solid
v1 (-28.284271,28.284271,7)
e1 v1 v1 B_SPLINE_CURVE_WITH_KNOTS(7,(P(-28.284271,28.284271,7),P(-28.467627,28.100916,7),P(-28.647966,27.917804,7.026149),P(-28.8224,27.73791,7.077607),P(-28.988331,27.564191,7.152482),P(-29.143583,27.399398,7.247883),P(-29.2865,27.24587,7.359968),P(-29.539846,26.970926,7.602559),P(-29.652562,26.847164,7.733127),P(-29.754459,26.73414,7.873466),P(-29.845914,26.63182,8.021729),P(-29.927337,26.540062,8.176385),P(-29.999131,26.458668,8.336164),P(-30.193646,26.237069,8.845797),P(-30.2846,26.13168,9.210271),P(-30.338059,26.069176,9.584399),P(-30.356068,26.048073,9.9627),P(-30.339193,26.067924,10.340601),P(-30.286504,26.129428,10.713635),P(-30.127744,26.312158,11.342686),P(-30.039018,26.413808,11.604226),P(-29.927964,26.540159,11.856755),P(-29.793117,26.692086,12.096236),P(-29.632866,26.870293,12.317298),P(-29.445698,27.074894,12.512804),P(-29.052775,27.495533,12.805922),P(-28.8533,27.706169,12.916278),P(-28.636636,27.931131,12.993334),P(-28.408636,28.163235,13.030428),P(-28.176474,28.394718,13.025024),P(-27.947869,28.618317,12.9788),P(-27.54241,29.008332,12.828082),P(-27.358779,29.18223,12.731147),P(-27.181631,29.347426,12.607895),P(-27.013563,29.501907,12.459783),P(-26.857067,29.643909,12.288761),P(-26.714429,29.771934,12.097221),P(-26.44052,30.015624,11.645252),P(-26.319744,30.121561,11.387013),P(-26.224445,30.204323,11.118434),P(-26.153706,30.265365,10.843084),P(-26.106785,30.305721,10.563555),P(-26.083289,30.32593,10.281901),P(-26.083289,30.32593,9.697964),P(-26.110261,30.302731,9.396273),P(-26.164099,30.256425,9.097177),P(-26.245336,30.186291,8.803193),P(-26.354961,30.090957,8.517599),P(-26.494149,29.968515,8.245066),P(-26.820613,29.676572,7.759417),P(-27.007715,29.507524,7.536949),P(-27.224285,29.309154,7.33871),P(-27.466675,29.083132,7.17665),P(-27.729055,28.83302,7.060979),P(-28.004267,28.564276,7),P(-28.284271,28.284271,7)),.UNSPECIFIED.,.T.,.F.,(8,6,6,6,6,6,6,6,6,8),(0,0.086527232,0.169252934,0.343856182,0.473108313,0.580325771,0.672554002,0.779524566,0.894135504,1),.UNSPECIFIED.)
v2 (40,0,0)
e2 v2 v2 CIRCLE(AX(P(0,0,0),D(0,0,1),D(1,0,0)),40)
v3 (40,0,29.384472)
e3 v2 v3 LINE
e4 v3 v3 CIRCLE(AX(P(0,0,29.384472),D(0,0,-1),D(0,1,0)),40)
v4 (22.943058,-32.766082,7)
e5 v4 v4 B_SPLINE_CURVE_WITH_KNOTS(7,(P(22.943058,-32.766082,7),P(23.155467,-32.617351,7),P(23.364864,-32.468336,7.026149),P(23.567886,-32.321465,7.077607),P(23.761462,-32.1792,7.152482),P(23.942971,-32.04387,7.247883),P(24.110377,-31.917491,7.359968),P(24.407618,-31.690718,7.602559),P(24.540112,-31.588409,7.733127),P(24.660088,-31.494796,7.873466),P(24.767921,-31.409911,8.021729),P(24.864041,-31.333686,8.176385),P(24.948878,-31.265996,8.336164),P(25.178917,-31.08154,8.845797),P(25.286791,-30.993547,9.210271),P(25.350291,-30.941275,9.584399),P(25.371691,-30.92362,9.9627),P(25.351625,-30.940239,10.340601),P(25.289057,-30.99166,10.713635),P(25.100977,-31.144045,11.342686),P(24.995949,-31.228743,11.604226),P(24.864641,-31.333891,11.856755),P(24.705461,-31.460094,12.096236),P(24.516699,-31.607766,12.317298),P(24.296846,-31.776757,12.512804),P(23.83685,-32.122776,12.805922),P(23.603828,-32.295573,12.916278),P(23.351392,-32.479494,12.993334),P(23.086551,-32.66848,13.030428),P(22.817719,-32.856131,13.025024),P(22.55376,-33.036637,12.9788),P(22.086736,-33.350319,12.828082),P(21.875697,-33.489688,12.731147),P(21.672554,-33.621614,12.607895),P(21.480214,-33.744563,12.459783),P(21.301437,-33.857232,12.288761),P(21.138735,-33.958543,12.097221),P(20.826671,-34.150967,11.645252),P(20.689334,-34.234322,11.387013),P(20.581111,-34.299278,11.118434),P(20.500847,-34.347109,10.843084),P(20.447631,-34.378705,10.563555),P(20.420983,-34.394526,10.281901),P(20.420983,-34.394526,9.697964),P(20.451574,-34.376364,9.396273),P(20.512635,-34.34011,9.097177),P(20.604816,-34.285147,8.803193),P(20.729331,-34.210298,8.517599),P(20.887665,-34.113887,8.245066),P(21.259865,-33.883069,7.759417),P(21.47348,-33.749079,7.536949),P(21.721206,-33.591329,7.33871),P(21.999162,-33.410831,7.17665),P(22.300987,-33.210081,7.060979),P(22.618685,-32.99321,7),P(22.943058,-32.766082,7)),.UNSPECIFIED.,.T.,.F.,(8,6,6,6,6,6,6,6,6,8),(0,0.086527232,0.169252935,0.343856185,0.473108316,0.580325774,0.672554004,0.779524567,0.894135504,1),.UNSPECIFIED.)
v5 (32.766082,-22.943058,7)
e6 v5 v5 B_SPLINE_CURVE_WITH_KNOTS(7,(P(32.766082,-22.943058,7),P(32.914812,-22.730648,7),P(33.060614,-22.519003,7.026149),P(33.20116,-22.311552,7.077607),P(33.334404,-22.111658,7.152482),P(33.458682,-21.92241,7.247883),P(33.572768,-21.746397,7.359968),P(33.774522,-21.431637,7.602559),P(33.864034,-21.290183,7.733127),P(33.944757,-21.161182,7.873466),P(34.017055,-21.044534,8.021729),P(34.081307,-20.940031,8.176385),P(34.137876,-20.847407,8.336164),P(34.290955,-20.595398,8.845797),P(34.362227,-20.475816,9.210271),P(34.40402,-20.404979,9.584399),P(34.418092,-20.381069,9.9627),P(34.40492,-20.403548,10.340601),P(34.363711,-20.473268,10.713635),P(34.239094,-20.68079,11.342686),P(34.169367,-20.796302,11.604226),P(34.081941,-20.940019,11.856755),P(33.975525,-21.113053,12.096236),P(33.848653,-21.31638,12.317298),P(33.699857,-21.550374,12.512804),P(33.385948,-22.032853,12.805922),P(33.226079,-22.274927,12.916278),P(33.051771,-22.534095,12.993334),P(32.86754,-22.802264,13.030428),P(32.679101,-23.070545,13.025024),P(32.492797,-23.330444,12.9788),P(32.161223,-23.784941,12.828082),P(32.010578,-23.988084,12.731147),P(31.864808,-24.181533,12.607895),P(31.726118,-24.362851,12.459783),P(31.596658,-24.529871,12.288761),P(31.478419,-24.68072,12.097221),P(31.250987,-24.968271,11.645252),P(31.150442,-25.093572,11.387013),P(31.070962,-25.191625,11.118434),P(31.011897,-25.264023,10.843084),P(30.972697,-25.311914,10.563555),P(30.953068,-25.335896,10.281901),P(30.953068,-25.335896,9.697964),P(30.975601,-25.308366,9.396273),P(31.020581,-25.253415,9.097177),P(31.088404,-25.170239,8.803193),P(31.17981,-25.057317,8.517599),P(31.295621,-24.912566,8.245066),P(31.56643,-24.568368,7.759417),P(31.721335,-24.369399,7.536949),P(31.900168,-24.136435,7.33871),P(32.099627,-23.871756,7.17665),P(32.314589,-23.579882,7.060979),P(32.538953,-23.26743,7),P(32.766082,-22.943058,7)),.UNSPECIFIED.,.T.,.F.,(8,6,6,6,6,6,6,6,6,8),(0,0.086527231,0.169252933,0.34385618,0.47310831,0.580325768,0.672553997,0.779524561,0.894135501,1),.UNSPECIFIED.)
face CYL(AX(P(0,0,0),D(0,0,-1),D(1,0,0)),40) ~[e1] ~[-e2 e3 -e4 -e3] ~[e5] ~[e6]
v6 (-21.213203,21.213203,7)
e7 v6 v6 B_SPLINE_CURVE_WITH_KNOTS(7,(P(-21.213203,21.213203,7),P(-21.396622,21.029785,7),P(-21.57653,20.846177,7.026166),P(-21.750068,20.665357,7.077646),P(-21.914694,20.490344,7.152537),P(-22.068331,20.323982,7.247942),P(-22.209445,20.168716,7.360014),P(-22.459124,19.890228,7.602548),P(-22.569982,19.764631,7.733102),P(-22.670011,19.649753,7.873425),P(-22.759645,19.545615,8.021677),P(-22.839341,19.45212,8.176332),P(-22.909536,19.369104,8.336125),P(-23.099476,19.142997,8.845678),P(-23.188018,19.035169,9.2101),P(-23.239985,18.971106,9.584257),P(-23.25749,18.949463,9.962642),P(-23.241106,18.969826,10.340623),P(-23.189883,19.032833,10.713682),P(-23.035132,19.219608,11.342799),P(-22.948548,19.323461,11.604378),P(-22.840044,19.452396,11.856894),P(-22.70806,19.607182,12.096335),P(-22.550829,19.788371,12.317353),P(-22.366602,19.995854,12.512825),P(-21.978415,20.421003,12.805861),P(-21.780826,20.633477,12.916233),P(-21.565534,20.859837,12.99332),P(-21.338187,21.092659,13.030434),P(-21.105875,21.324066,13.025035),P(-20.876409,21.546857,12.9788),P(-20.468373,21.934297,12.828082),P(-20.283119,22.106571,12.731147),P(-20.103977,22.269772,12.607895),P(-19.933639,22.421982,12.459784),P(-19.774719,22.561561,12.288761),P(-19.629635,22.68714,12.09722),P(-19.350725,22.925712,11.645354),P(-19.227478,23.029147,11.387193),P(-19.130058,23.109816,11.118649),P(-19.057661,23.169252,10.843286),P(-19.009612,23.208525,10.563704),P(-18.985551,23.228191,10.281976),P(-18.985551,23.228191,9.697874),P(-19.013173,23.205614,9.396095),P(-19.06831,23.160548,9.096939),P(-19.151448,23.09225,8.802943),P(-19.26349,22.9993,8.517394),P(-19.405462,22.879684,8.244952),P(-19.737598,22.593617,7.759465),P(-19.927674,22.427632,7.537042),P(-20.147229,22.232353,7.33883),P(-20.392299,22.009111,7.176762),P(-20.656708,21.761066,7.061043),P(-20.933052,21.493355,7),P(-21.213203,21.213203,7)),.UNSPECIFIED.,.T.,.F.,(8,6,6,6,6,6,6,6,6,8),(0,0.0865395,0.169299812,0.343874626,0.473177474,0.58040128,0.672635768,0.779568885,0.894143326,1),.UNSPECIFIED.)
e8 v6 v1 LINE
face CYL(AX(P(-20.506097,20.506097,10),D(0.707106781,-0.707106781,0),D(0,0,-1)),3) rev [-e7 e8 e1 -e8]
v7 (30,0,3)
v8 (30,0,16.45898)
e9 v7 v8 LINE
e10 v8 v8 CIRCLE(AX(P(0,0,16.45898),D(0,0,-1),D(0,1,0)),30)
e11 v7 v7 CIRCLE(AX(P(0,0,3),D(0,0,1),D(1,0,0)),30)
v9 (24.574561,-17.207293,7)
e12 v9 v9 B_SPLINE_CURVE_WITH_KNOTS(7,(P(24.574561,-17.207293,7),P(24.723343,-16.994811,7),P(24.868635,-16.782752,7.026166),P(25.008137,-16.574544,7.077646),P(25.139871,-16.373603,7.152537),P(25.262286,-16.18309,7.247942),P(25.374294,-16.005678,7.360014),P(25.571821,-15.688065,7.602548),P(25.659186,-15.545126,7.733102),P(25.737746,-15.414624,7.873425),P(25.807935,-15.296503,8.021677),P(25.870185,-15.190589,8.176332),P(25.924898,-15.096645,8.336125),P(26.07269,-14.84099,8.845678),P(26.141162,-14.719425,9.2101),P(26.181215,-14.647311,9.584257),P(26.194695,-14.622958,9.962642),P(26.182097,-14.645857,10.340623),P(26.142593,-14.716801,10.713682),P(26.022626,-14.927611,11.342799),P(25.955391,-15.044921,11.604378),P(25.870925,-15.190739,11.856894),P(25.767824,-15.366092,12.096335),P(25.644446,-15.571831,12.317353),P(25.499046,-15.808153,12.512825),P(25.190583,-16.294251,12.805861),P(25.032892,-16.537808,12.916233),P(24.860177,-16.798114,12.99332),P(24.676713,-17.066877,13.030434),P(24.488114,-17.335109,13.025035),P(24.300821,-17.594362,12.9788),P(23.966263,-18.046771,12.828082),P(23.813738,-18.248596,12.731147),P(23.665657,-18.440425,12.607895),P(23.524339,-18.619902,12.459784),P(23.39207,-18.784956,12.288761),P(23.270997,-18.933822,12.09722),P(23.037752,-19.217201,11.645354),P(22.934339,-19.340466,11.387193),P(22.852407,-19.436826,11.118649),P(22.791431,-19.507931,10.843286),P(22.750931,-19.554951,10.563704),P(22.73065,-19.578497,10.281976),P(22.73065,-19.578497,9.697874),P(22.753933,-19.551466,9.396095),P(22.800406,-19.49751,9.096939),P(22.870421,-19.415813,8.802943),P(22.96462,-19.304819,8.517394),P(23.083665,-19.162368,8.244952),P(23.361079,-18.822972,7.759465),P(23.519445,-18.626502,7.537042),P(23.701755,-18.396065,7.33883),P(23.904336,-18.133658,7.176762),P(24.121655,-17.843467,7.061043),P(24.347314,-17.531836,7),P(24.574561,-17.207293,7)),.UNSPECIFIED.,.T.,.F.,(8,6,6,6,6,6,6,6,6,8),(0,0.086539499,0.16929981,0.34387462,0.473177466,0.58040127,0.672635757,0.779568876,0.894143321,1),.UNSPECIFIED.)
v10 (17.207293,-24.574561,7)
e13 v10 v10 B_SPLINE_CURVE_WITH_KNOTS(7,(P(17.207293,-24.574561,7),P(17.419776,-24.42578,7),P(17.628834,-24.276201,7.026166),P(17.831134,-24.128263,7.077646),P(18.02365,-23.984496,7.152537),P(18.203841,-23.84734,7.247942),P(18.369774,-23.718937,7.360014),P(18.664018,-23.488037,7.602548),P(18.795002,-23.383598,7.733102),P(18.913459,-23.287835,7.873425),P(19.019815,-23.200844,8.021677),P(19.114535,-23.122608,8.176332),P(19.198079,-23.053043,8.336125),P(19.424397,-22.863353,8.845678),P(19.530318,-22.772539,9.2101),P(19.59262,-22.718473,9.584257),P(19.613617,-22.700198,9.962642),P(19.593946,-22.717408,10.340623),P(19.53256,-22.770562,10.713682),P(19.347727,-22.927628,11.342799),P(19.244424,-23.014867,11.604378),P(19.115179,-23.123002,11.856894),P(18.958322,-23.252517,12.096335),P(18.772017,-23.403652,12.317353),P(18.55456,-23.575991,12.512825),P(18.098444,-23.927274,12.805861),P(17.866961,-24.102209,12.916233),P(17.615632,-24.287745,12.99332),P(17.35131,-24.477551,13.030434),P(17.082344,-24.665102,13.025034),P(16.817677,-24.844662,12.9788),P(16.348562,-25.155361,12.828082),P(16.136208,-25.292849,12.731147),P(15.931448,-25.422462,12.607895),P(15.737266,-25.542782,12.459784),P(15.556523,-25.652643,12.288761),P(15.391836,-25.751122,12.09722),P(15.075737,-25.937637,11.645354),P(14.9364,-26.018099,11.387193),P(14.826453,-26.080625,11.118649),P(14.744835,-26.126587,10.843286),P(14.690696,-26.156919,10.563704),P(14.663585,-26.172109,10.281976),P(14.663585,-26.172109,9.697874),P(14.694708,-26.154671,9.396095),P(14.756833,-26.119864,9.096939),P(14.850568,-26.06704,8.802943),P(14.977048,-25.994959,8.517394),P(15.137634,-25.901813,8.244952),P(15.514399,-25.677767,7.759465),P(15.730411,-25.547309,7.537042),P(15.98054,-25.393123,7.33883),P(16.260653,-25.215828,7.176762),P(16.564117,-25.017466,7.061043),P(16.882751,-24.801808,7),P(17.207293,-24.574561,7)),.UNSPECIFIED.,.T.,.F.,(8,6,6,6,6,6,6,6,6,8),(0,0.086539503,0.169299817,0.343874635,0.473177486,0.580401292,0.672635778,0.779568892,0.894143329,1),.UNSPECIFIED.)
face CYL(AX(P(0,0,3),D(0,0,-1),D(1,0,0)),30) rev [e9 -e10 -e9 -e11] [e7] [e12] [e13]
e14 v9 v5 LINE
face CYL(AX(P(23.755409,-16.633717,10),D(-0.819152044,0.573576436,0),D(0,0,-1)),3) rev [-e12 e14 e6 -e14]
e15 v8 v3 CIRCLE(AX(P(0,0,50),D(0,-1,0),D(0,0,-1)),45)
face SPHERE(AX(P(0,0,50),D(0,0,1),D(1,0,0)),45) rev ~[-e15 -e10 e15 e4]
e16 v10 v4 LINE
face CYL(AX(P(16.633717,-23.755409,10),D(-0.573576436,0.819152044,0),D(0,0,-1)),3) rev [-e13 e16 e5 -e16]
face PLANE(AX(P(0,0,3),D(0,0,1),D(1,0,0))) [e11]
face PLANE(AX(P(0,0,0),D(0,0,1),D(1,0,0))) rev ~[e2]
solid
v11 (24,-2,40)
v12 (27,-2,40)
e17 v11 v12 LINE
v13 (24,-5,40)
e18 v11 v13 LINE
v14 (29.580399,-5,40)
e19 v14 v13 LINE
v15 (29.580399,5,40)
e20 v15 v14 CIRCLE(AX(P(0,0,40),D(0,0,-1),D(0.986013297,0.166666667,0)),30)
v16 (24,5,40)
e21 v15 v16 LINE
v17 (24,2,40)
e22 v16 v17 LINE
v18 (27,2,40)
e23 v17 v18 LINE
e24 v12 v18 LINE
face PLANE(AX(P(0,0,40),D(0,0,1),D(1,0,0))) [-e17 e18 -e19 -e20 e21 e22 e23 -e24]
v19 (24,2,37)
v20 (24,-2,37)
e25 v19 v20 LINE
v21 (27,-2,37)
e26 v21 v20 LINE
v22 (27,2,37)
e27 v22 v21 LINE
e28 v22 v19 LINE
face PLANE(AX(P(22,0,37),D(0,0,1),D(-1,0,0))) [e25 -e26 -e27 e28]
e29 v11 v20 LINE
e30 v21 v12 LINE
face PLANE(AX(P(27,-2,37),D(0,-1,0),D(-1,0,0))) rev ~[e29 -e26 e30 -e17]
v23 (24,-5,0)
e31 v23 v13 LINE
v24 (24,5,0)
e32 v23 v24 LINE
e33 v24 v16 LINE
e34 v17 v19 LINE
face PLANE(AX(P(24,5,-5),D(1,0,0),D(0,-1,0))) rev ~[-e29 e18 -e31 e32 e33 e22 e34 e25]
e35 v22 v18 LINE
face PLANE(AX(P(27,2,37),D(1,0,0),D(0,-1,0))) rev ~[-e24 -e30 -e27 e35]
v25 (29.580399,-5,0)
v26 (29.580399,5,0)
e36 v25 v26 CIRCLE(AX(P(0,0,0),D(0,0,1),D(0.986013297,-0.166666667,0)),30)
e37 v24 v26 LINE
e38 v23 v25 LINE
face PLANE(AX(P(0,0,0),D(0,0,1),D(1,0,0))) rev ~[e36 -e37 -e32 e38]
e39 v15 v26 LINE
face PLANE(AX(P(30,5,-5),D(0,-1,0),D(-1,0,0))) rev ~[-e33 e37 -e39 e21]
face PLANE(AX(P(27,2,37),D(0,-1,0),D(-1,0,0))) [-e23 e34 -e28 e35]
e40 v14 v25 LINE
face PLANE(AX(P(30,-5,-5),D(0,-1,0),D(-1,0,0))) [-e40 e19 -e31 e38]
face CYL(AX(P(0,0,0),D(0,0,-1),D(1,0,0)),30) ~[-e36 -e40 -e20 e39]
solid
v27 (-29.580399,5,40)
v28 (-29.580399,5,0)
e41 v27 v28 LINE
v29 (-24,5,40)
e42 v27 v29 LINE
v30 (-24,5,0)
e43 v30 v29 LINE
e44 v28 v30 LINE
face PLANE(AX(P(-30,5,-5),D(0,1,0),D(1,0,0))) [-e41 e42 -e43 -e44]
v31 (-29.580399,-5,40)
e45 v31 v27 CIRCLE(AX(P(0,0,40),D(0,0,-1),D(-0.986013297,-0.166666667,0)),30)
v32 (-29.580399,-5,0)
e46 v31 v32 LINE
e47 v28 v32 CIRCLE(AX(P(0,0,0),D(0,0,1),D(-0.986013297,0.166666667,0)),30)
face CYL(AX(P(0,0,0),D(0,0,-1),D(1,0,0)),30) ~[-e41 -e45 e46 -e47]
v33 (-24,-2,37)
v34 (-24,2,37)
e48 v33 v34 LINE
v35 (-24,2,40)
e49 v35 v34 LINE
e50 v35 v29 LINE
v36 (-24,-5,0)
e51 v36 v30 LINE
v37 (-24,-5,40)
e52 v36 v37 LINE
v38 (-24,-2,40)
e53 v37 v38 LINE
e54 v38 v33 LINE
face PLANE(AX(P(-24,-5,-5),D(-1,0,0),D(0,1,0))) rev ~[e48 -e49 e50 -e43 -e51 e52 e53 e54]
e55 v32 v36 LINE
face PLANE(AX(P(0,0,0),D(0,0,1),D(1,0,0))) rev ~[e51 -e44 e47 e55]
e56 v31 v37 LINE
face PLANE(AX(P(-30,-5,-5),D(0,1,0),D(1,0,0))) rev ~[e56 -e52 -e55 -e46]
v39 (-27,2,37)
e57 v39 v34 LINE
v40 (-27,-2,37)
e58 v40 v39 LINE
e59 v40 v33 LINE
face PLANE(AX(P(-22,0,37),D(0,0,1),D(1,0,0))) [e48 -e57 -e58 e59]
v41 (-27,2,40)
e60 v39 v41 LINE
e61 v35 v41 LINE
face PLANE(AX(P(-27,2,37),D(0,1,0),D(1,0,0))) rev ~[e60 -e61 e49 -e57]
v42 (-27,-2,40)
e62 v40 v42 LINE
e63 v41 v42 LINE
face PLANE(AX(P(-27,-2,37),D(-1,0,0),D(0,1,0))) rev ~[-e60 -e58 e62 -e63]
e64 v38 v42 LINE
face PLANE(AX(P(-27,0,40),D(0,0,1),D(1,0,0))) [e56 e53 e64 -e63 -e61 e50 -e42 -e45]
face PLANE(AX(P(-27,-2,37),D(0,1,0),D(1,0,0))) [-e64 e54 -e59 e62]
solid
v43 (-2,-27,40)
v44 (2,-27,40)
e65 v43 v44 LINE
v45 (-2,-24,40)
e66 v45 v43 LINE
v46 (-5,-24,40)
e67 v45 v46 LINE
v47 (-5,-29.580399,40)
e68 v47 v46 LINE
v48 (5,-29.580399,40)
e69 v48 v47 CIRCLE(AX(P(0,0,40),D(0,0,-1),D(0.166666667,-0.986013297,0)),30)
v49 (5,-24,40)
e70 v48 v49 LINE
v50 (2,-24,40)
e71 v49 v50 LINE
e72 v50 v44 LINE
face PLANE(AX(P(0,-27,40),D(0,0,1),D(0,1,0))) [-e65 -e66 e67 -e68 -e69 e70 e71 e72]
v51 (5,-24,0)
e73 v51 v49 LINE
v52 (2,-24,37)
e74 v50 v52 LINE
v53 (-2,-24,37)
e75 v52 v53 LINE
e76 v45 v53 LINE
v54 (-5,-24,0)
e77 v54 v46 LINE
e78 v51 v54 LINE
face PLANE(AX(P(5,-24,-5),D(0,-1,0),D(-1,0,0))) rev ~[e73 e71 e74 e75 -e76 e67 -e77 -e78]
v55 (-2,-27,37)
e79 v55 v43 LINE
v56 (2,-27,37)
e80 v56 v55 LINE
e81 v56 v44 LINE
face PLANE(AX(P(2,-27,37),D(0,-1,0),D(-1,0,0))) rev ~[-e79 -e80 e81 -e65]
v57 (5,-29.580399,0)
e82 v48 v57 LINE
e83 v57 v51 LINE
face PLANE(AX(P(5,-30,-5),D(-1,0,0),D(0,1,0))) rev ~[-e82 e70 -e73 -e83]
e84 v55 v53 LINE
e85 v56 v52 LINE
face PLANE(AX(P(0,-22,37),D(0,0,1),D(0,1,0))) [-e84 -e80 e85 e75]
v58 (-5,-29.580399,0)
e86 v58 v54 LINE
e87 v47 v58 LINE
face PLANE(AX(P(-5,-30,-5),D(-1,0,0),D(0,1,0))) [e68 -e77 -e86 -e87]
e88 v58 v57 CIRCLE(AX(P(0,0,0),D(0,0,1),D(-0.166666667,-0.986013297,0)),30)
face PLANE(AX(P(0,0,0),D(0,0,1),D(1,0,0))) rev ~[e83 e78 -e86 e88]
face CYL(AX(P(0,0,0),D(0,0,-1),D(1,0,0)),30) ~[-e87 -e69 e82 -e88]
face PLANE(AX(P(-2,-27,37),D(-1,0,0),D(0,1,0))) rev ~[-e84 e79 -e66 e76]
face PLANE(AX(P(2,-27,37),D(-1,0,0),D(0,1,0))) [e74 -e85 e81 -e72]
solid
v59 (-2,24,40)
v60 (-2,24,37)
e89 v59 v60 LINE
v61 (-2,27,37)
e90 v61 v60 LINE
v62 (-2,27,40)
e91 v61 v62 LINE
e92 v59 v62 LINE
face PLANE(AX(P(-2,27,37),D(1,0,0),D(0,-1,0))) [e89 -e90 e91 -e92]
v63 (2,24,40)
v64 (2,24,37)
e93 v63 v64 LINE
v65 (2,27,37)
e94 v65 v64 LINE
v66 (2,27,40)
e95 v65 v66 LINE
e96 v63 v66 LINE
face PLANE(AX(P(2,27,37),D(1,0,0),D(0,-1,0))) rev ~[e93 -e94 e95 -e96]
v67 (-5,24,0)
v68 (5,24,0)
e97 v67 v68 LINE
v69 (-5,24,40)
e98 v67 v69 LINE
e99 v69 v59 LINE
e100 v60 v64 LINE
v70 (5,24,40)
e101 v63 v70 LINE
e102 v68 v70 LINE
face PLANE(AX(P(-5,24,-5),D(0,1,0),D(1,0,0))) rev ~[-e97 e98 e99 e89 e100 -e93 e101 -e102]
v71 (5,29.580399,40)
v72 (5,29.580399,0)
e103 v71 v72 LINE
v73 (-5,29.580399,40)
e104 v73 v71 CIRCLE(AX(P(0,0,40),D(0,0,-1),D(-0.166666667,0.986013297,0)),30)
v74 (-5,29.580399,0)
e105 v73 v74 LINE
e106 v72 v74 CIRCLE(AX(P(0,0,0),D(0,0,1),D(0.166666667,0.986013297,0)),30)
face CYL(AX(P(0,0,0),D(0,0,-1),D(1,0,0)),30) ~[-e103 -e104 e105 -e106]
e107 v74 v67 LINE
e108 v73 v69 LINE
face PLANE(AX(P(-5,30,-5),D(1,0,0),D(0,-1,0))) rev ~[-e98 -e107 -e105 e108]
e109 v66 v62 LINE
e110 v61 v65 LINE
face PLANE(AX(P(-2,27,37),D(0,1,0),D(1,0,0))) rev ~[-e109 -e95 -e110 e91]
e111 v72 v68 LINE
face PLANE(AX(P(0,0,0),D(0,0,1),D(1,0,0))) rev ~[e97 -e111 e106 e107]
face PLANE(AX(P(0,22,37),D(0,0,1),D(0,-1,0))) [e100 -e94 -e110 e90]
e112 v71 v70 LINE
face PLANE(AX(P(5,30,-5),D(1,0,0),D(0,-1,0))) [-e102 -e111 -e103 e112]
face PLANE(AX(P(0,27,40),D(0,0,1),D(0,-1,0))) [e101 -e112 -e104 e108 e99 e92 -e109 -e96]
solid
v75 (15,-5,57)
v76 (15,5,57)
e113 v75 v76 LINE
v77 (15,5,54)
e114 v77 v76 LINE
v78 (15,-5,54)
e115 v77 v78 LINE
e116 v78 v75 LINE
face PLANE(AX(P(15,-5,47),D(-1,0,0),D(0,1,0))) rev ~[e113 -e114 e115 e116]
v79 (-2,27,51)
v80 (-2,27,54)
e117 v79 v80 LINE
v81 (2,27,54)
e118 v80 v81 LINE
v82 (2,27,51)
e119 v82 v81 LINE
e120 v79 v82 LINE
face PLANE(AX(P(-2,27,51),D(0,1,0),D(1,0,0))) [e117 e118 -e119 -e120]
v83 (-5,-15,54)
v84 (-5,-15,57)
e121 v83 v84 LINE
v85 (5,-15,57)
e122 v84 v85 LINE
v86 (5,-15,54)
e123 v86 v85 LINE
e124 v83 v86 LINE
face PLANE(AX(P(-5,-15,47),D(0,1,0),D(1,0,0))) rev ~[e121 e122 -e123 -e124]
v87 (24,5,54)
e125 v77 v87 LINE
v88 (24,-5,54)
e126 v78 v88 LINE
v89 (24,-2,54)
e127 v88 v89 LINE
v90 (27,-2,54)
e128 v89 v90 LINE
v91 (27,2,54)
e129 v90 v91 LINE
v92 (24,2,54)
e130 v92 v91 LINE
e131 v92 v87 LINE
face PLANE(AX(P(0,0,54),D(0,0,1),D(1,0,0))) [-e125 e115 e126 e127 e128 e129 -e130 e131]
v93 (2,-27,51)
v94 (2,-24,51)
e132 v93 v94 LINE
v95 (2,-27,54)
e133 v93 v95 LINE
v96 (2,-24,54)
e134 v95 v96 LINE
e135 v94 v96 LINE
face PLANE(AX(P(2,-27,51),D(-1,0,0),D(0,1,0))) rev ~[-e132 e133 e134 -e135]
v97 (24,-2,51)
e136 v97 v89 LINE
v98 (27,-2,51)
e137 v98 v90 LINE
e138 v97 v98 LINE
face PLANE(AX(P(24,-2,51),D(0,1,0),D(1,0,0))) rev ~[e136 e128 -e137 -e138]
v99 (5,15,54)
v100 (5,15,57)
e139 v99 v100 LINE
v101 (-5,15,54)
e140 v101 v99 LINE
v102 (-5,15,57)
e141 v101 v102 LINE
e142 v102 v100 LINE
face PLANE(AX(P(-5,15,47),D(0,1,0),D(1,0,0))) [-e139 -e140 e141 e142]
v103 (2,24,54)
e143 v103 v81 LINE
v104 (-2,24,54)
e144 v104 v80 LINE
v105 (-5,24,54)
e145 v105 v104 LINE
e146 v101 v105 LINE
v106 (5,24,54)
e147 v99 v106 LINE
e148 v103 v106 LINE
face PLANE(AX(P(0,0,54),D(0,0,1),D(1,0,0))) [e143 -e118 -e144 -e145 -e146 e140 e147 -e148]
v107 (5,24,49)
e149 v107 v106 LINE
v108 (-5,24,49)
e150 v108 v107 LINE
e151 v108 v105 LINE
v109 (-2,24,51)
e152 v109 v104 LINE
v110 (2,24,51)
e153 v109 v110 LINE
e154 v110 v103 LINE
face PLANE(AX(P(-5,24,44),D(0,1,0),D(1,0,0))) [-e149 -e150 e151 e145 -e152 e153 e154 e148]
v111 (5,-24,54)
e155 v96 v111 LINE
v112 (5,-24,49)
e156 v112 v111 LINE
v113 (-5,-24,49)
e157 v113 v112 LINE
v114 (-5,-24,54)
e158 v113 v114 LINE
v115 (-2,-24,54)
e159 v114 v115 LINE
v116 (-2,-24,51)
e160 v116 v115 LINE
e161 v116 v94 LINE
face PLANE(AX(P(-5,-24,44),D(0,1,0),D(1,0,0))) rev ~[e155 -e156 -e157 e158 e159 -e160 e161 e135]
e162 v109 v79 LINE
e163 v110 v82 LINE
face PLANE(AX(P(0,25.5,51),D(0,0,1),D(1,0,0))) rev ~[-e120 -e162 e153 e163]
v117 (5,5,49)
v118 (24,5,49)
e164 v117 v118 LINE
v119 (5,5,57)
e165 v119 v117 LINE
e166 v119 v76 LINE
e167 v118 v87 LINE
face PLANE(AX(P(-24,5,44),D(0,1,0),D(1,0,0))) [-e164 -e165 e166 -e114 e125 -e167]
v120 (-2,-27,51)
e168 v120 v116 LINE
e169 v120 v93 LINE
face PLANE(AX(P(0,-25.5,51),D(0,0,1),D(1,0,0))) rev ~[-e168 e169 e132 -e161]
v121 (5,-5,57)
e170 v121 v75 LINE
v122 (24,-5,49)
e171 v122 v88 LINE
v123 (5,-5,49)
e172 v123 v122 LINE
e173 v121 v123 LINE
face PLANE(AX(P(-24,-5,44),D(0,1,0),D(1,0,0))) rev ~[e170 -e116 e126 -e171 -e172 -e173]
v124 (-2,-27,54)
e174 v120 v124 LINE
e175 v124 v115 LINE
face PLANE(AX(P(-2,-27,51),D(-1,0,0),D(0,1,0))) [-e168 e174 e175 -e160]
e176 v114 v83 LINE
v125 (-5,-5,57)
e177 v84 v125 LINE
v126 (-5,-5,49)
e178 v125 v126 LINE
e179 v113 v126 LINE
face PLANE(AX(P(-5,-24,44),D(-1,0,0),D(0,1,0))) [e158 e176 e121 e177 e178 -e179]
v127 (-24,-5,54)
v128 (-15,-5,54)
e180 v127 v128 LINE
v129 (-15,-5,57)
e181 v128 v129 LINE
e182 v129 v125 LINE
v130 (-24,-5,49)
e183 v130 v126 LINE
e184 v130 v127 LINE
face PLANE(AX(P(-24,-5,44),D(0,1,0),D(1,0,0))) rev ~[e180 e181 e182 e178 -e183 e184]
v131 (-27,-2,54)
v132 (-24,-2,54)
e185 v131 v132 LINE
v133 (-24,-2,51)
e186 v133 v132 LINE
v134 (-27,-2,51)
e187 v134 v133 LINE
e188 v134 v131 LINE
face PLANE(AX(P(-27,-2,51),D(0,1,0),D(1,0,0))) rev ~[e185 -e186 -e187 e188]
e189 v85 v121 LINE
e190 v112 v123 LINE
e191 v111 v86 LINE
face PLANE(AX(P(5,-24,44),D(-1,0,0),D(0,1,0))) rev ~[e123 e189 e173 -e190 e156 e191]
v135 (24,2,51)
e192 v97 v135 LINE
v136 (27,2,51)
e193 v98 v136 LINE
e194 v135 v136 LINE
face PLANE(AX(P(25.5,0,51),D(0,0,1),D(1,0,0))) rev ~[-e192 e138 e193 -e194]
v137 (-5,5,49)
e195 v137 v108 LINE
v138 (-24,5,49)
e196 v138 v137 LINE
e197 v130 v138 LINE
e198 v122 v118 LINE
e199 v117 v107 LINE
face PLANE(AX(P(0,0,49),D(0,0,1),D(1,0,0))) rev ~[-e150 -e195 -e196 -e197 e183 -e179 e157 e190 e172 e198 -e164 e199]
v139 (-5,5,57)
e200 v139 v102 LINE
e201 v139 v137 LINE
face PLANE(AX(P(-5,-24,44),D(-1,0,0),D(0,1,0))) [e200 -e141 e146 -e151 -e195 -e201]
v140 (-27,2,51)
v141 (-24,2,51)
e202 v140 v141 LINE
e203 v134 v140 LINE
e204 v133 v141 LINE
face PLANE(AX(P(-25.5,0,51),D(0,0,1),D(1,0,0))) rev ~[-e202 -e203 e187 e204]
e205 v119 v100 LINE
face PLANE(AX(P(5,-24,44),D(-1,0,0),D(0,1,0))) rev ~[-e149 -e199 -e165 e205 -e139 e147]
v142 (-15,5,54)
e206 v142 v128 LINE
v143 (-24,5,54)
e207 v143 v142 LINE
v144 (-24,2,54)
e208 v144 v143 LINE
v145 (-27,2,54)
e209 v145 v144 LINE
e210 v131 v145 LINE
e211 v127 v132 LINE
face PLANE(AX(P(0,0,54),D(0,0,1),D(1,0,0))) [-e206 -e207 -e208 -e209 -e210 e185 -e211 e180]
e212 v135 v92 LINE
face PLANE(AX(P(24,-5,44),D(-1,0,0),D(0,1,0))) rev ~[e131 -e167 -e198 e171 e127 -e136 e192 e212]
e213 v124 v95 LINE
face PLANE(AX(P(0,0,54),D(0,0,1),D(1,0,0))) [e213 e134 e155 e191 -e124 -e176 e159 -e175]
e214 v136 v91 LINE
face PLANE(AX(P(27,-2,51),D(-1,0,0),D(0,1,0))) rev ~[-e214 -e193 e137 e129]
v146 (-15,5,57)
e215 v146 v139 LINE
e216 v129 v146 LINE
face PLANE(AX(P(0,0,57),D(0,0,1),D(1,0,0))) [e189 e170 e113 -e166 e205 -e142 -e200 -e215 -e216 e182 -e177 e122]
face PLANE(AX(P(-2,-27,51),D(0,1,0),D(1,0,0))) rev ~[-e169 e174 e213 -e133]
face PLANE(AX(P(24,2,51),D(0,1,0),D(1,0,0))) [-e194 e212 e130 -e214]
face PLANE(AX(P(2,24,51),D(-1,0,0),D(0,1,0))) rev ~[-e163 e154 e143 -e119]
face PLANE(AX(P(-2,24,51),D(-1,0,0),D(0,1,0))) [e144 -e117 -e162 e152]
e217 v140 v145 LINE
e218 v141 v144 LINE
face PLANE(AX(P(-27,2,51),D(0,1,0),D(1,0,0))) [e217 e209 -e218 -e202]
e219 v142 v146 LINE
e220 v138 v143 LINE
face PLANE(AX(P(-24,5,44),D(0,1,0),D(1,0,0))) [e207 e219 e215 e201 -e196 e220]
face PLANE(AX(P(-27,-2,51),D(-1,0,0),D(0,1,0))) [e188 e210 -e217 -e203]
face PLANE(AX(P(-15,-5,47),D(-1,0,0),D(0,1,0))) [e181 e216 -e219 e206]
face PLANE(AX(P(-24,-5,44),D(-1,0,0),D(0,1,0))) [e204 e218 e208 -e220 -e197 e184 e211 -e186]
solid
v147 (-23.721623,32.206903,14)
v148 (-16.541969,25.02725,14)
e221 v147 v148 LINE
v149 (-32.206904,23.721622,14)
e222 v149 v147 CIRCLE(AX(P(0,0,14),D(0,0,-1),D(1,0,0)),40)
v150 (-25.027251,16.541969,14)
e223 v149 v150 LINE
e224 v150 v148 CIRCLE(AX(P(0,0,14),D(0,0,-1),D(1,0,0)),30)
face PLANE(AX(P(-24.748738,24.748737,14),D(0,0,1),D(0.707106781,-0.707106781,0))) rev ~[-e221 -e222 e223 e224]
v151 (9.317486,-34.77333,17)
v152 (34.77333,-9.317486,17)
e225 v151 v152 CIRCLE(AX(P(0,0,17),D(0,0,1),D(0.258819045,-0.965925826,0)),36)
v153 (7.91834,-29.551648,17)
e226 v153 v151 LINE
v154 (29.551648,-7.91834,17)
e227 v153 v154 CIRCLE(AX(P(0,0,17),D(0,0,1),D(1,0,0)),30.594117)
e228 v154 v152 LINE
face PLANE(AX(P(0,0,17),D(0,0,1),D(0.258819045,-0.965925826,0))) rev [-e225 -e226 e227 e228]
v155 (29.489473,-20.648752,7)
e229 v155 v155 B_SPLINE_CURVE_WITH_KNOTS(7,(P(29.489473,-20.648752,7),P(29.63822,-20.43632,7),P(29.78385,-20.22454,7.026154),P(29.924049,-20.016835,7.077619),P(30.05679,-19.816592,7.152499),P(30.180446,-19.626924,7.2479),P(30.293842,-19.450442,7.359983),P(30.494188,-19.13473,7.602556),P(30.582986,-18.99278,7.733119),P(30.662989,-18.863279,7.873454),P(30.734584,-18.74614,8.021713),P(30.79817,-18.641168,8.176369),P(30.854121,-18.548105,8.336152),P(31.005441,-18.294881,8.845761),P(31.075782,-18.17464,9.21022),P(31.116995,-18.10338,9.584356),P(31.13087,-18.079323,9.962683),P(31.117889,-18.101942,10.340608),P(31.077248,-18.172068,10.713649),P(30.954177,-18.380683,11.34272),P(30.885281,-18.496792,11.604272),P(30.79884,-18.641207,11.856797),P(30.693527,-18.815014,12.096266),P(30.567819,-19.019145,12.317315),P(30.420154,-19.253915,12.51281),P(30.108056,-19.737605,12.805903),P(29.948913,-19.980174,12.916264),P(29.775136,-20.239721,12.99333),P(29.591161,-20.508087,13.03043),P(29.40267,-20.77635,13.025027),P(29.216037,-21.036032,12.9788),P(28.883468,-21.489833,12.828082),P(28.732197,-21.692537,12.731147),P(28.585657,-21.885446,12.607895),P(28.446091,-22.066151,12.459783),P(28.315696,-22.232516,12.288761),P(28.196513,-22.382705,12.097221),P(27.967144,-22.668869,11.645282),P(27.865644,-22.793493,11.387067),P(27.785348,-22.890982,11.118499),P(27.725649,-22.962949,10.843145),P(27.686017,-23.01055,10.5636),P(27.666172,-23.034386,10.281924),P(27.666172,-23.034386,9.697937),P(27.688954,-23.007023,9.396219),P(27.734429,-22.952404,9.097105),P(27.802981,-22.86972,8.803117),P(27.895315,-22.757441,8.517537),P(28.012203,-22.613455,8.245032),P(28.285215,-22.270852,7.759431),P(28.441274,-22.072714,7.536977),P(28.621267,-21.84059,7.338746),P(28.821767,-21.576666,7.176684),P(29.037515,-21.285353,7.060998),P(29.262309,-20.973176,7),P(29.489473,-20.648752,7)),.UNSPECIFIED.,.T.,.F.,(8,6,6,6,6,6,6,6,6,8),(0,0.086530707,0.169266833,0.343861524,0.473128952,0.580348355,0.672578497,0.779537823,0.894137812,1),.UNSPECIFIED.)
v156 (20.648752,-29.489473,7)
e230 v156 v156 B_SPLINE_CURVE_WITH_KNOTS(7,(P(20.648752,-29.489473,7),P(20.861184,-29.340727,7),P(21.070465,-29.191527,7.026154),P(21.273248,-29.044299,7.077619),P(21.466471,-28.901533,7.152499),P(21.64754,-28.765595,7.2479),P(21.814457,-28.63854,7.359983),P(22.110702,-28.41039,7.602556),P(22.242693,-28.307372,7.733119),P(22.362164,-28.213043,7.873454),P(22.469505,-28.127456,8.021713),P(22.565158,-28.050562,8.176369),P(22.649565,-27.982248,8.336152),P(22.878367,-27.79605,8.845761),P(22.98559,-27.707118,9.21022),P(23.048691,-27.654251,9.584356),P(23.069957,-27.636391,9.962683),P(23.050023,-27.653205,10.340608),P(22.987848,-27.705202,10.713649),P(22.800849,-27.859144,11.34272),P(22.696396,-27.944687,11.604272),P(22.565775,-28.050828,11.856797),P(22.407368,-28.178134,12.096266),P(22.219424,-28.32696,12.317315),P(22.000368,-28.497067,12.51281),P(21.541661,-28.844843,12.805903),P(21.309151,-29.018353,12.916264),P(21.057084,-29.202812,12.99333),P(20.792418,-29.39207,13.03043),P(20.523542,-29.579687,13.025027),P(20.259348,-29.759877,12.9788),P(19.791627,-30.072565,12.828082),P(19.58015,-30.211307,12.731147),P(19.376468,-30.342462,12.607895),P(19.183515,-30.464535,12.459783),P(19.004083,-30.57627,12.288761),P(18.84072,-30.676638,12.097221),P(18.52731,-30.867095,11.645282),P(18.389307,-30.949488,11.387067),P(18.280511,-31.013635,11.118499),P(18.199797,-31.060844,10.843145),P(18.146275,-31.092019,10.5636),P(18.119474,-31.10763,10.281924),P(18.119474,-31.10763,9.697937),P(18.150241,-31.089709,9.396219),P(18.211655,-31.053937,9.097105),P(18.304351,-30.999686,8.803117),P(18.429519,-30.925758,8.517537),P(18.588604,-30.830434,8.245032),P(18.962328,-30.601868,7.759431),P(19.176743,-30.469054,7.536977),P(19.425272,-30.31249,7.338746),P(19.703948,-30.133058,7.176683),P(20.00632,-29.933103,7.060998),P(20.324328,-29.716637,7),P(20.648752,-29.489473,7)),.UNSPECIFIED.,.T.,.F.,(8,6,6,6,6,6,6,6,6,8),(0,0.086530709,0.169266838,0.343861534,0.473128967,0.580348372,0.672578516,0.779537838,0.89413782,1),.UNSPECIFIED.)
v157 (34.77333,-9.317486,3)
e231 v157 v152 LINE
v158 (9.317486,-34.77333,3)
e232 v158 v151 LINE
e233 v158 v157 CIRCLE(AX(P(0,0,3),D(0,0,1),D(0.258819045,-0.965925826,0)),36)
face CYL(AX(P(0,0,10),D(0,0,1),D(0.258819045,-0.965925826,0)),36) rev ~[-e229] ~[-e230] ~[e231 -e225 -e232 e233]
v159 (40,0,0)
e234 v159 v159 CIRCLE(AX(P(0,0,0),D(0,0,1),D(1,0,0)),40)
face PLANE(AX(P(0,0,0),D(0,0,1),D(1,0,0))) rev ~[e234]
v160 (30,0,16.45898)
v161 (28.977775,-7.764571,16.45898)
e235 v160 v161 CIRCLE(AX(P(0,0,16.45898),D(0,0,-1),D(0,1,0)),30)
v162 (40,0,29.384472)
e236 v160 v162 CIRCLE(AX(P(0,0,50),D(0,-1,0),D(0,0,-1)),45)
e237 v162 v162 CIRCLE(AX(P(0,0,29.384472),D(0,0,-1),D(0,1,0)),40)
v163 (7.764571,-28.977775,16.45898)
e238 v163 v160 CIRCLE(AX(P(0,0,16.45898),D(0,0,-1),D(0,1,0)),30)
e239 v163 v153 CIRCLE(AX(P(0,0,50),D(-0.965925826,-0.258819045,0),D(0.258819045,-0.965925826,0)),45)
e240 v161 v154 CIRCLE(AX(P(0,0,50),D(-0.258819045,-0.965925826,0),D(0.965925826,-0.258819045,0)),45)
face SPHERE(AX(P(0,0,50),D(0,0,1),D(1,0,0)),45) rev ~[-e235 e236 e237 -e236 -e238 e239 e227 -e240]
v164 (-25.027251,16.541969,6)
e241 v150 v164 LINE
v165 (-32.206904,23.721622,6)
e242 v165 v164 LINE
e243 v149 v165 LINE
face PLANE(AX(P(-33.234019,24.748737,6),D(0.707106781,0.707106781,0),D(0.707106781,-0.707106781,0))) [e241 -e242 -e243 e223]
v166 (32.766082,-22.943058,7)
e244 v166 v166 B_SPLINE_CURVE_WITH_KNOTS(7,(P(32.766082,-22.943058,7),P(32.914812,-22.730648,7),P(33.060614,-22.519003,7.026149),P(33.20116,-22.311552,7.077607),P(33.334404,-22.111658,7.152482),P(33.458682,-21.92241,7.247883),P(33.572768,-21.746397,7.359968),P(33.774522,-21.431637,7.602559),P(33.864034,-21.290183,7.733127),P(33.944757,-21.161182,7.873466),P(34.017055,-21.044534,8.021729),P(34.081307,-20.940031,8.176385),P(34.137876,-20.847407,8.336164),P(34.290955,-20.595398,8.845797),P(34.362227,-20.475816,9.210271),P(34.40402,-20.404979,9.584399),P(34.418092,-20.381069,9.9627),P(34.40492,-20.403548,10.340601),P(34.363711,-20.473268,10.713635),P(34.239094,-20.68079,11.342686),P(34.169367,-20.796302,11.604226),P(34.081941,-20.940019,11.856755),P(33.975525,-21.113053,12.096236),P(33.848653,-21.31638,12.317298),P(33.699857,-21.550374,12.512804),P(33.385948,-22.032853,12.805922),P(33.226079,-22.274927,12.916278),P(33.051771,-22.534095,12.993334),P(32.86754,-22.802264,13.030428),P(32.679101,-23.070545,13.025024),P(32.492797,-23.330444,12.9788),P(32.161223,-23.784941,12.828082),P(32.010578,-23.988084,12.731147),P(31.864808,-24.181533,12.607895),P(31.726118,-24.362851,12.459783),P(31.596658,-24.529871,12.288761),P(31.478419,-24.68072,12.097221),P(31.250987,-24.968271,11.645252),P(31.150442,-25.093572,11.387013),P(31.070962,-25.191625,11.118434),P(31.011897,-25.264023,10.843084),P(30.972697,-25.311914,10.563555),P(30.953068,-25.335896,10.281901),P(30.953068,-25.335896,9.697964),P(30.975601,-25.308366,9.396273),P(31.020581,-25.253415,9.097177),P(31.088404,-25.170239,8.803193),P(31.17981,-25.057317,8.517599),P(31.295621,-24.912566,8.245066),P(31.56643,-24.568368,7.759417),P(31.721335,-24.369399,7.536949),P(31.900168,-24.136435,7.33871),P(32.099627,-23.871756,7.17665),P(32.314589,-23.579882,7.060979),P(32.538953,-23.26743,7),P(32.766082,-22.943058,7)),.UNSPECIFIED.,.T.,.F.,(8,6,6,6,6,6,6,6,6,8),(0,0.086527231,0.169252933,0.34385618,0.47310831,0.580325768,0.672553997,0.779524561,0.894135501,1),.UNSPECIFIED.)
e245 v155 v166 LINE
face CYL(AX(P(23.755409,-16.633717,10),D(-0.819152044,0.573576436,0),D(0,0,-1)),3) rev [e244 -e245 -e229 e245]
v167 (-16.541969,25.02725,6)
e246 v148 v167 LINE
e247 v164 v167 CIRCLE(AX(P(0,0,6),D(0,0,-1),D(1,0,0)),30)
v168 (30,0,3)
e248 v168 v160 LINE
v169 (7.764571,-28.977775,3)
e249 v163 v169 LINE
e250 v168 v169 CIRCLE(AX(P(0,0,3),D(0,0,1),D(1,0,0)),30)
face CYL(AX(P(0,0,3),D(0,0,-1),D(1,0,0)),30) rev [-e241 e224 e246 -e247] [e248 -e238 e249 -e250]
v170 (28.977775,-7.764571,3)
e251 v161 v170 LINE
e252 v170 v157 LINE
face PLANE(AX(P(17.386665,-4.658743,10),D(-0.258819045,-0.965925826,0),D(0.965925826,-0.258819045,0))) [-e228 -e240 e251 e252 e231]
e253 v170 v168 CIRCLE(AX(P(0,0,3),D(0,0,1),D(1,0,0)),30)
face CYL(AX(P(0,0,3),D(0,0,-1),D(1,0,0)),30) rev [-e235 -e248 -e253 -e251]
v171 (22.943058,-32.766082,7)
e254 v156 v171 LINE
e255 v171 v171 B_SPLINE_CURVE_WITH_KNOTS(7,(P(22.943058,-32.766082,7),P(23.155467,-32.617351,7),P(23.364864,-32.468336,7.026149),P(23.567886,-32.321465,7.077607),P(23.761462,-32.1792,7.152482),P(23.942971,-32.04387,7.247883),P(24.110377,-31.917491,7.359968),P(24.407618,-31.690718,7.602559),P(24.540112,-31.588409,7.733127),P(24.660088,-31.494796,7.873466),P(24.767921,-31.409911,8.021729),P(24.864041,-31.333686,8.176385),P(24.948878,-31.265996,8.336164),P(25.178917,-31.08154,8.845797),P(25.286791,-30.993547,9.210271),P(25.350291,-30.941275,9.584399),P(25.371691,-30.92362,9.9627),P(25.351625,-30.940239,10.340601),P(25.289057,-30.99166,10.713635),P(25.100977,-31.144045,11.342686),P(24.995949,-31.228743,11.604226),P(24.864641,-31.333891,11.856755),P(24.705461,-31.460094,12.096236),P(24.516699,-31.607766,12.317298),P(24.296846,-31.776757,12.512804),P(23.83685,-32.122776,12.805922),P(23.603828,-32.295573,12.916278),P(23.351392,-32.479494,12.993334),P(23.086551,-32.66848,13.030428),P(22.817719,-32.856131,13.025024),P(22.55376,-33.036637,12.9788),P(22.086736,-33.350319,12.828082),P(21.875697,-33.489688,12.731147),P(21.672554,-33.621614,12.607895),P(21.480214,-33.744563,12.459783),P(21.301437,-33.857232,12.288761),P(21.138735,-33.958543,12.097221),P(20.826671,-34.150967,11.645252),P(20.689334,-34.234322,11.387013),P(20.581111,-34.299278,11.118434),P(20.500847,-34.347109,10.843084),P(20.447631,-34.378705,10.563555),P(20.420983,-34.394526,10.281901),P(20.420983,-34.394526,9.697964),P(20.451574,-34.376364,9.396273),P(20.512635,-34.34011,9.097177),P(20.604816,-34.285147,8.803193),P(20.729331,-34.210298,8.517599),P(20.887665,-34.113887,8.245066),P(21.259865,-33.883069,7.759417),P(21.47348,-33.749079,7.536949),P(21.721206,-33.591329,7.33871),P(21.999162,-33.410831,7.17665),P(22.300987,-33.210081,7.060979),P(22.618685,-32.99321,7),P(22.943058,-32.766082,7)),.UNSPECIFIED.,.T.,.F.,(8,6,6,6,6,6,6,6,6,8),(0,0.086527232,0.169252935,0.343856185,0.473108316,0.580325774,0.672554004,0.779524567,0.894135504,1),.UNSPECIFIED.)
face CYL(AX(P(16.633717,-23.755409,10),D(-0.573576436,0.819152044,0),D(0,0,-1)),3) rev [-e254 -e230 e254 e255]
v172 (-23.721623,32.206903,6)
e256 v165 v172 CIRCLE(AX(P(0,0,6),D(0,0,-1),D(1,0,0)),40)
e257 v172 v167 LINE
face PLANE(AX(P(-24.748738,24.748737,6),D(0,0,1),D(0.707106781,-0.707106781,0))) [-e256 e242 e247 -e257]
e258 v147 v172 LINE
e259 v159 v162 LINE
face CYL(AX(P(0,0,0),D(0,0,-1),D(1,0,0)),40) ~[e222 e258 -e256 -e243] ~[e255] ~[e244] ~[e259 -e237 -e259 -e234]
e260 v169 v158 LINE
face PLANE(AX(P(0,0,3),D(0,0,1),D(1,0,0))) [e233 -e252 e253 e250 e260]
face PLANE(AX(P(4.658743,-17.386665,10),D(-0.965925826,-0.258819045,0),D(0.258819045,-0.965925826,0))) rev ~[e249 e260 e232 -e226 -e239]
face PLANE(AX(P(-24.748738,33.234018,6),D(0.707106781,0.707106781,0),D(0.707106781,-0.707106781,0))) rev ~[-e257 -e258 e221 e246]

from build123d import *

# Parameters (mm, degrees)
CYLINDER003_R               = 3
CYLINDER003_DEPTH           = 12
CYLINDER003_PITCH_ANGLE     = 90
CYLINDER003_PLACEMENT_ANGLE = -35
CYLINDER002_R               = 3
CYLINDER002_DEPTH           = 12
CYLINDER002_PITCH_ANGLE     = 90
CYLINDER002_PLACEMENT_ANGLE = -55
CYLINDER004_R               = 3
CYLINDER004_DEPTH           = 12
CYLINDER004_PITCH_ANGLE     = 90
CYLINDER004_PLACEMENT_ANGLE = 135
CYLINDER001_R               = 30
CYLINDER001_DEPTH           = 30
CYLINDER_R                  = 40
CYLINDER_DEPTH              = 30
BOX007_W                    = 10
BOX007_H                    = 4
BOX007_DEPTH                = 10
BOX006_W                    = 6
BOX006_H                    = 10
BOX006_DEPTH                = 45
CUT008_PLACEMENT_ANGLE      = 180
CYLINDER005_R               = 30
CYLINDER005_DEPTH           = 40
BOX003_W                    = 10
BOX003_H                    = 4
BOX003_DEPTH                = 10
BOX002_W                    = 6
BOX002_H                    = 10
BOX002_DEPTH                = 45
CUT006_PLACEMENT_ANGLE      = 90
BOX001_W                    = 10
BOX001_H                    = 4
BOX001_DEPTH                = 10
BOX_W                       = 6
BOX_H                       = 10
BOX_DEPTH                   = 45
BOX005_W                    = 10
BOX005_H                    = 4
BOX005_DEPTH                = 10
BOX004_W                    = 6
BOX004_H                    = 10
BOX004_DEPTH                = 45
CUT007_PLACEMENT_ANGLE      = -90
CYLINDER006_R               = 40
CYLINDER006_DEPTH           = 20
BOX010_W                    = 3
BOX010_H                    = 4
BOX010_DEPTH                = 3
BOX011_W                    = 3
BOX011_H                    = 4
BOX011_DEPTH                = 3
BOX015_W                    = 30
BOX015_H                    = 10
BOX015_DEPTH                = 10
BOX009_W                    = 48
BOX009_H                    = 10
BOX009_DEPTH                = 10
BOX013_W                    = 4
BOX013_H                    = 3
BOX013_DEPTH                = 3
BOX012_W                    = 10
BOX012_H                    = 48
BOX012_DEPTH                = 10
BOX014_W                    = 4
BOX014_H                    = 3
BOX014_DEPTH                = 3
BOX016_W                    = 10
BOX016_H                    = 30
BOX016_DEPTH                = 10
CYLINDER007_W               = 36
CYLINDER007_H               = 14
CYLINDER007_ANGLE           = 60
CYLINDER007_PLACEMENT_ANGLE = 75
BOX008_W                    = 12
BOX008_H                    = 12
BOX008_DEPTH                = 8
BOX008_PLACEMENT_ANGLE      = -45


with BuildPart() as switch2:
    # Cylinder003 → Cylinder003 (new body)
    with BuildSketch(Plane.XY):
        Circle(CYLINDER003_R)
    extrude(amount=CYLINDER003_DEPTH)


with BuildPart() as switch2_1:
    # Cylinder003 pitch: moved
    add(switch2.part.rotate(Axis((0, 0, 0), (0, 1, 0)), CYLINDER003_PITCH_ANGLE))


with BuildPart() as switch2_2:
    # Cylinder003 placement: moved
    add(switch2_1.part.moved(Location((23.755409, -16.633717, 10))).rotate(Axis((23.755409, -16.633717, 10), (0, 0, 1)), CYLINDER003_PLACEMENT_ANGLE))


with BuildPart() as switch1:
    # Cylinder002 → Cylinder002 (new body)
    with BuildSketch(Plane.XY):
        Circle(CYLINDER002_R)
    extrude(amount=CYLINDER002_DEPTH)


with BuildPart() as switch1_1:
    # Cylinder002 pitch: moved
    add(switch1.part.rotate(Axis((0, 0, 0), (0, 1, 0)), CYLINDER002_PITCH_ANGLE))


with BuildPart() as switch1_2:
    # Cylinder002 placement: moved
    add(switch1_1.part.moved(Location((16.633717, -23.755409, 10))).rotate(Axis((16.633717, -23.755409, 10), (0, 0, 1)), CYLINDER002_PLACEMENT_ANGLE))


with BuildPart() as plug:
    # Cylinder004 → Cylinder004 (new body)
    with BuildSketch(Plane.XY):
        Circle(CYLINDER004_R)
    extrude(amount=CYLINDER004_DEPTH)


with BuildPart() as plug_1:
    # Cylinder004 pitch: moved
    add(plug.part.rotate(Axis((0, 0, 0), (0, 1, 0)), CYLINDER004_PITCH_ANGLE))


with BuildPart() as plug_2:
    # Cylinder004 placement: moved
    add(plug_1.part.moved(Location((-20.506097, 20.506097, 10))).rotate(Axis((-20.506097, 20.506097, 10), (0, 0, 1)), CYLINDER004_PLACEMENT_ANGLE))


with BuildPart() as sphere:
    # Sphere → Sphere (revolve)
    with BuildSketch(Plane(origin=(0, 0, 50), x_dir=(1, 0, 0), z_dir=(0, -1, 0))):
        with BuildLine():
            ThreePointArc((0, -45), (45, 0), (0, 45))
            Line((0, 45), (0, -45))
        make_face()
    revolve(axis=Axis((0, 0, 50), (0, 0, 1)))


with BuildPart() as cylinder001:
    # Cylinder001 → Cylinder001 (new body)
    with BuildSketch(Plane.XY.offset(3)):
        Circle(CYLINDER001_R)
    extrude(amount=CYLINDER001_DEPTH)


with BuildPart() as cut001:
    # Cylinder → Cylinder (new body)
    with BuildSketch(Plane.XY):
        Circle(CYLINDER_R)
    extrude(amount=CYLINDER_DEPTH)

    # Cut: cut Cylinder001
    add(cylinder001.part, mode=Mode.SUBTRACT)

    # Cut001: cut Sphere
    add(sphere.part, mode=Mode.SUBTRACT)


with BuildPart() as base_round:
    # Cut002 base: copy of Cut001
    add(cut001.part)

    # Cut002: cut plug
    add(plug_2.part, mode=Mode.SUBTRACT)

    # Cut003: cut switch1
    add(switch1_2.part, mode=Mode.SUBTRACT)

    # Cut004: cut switch2
    add(switch2_2.part, mode=Mode.SUBTRACT)


with BuildPart() as cube007:
    # Box007 → Box007 (new body)
    with BuildSketch(Plane(origin=(3, 3, 42), x_dir=(1, 0, 0), z_dir=(0, 0, 1))):
        with Locations((5, 2)):
            Rectangle(BOX007_W, BOX007_H)
    extrude(amount=BOX007_DEPTH)


with BuildPart() as cut008:
    # Box006 → Box006 (new body)
    with BuildSketch(Plane.XY):
        with Locations((3, 5)):
            Rectangle(BOX006_W, BOX006_H)
    extrude(amount=BOX006_DEPTH)

    # Cut008: cut Cube007
    add(cube007.part, mode=Mode.SUBTRACT)


with BuildPart() as cut008_1:
    # Cut008 placement: moved
    add(cut008.part.moved(Location((30, 5, -5))).rotate(Axis((30, 5, -5), (0, 0, 1)), CUT008_PLACEMENT_ANGLE))


with BuildPart() as cylinder002:
    # Cylinder005 → Cylinder005 (new body)
    with BuildSketch(Plane.XY):
        Circle(CYLINDER005_R)
    extrude(amount=CYLINDER005_DEPTH)


with BuildPart() as snap1:
    # Common base: copy of Cylinder002
    add(cylinder002.part)

    # Common: intersect Cut008
    add(cut008_1.part, mode=Mode.INTERSECT)


with BuildPart() as cube003:
    # Box003 → Box003 (new body)
    with BuildSketch(Plane(origin=(3, 3, 42), x_dir=(1, 0, 0), z_dir=(0, 0, 1))):
        with Locations((5, 2)):
            Rectangle(BOX003_W, BOX003_H)
    extrude(amount=BOX003_DEPTH)


with BuildPart() as snap2:
    # Box002 → Box002 (new body)
    with BuildSketch(Plane.XY):
        with Locations((3, 5)):
            Rectangle(BOX002_W, BOX002_H)
    extrude(amount=BOX002_DEPTH)

    # Cut006: cut Cube003
    add(cube003.part, mode=Mode.SUBTRACT)


with BuildPart() as snap2_1:
    # Cut006 placement: moved
    add(snap2.part.moved(Location((5, -30, -5))).rotate(Axis((5, -30, -5), (0, 0, 1)), CUT006_PLACEMENT_ANGLE))

    # Common001: intersect Cylinder002
    add(cylinder002.part, mode=Mode.INTERSECT)


with BuildPart() as cube001:
    # Box001 → Box001 (new body)
    with BuildSketch(Plane(origin=(3, 3, 42), x_dir=(1, 0, 0), z_dir=(0, 0, 1))):
        with Locations((5, 2)):
            Rectangle(BOX001_W, BOX001_H)
    extrude(amount=BOX001_DEPTH)


with BuildPart() as snap3:
    # Box → Box (new body)
    with BuildSketch(Plane.XY):
        with Locations((3, 5)):
            Rectangle(BOX_W, BOX_H)
    extrude(amount=BOX_DEPTH)

    # Cut005: cut Cube001
    add(cube001.part, mode=Mode.SUBTRACT)


with BuildPart() as snap3_1:
    # Cut005 placement: moved
    add(snap3.part.moved(Location((-30, -5, -5))))

    # Common002: intersect Cylinder002
    add(cylinder002.part, mode=Mode.INTERSECT)


with BuildPart() as cube005:
    # Box005 → Box005 (new body)
    with BuildSketch(Plane(origin=(3, 3, 42), x_dir=(1, 0, 0), z_dir=(0, 0, 1))):
        with Locations((5, 2)):
            Rectangle(BOX005_W, BOX005_H)
    extrude(amount=BOX005_DEPTH)


with BuildPart() as snap4:
    # Box004 → Box004 (new body)
    with BuildSketch(Plane.XY):
        with Locations((3, 5)):
            Rectangle(BOX004_W, BOX004_H)
    extrude(amount=BOX004_DEPTH)

    # Cut007: cut Cube005
    add(cube005.part, mode=Mode.SUBTRACT)


with BuildPart() as snap4_1:
    # Cut007 placement: moved
    add(snap4.part.moved(Location((-5, 30, -5))).rotate(Axis((-5, 30, -5), (0, 0, 1)), CUT007_PLACEMENT_ANGLE))

    # Common003: intersect Cylinder002
    add(cylinder002.part, mode=Mode.INTERSECT)


with BuildPart() as cylinder003:
    # Cylinder006 → Cylinder006 (new body)
    with BuildSketch(Plane.XY.offset(29)):
        Circle(CYLINDER006_R)
    extrude(amount=CYLINDER006_DEPTH)


with BuildPart() as cube010:
    # Box010 → Box010 (new body)
    with BuildSketch(Plane(origin=(-27, -2, 37), x_dir=(1, 0, 0), z_dir=(0, 0, 1))):
        with Locations((1.5, 2)):
            Rectangle(BOX010_W, BOX010_H)
    extrude(amount=BOX010_DEPTH)


with BuildPart() as cube011:
    # Box011 → Box011 (new body)
    with BuildSketch(Plane(origin=(24, -2, 37), x_dir=(1, 0, 0), z_dir=(0, 0, 1))):
        with Locations((1.5, 2)):
            Rectangle(BOX011_W, BOX011_H)
    extrude(amount=BOX011_DEPTH)


with BuildPart() as cube015:
    # Box015 → Box015 (new body)
    with BuildSketch(Plane(origin=(-15, -5, 33), x_dir=(1, 0, 0), z_dir=(0, 0, 1))):
        with Locations((15, 5)):
            Rectangle(BOX015_W, BOX015_H)
    extrude(amount=BOX015_DEPTH)


with BuildPart() as fusion:
    # Box009 → Box009 (new body)
    with BuildSketch(Plane(origin=(-24, -5, 30), x_dir=(1, 0, 0), z_dir=(0, 0, 1))):
        with Locations((24, 5)):
            Rectangle(BOX009_W, BOX009_H)
    extrude(amount=BOX009_DEPTH)

    # Fusion: union Cube010, Cube011, Cube015
    add(cube010.part)
    add(cube011.part)
    add(cube015.part)


with BuildPart() as cube013:
    # Box013 → Box013 (new body)
    with BuildSketch(Plane(origin=(-2, 24, 37), x_dir=(1, 0, 0), z_dir=(0, 0, 1))):
        with Locations((2, 1.5)):
            Rectangle(BOX013_W, BOX013_H)
    extrude(amount=BOX013_DEPTH)


with BuildPart() as cube012:
    # Box012 → Box012 (new body)
    with BuildSketch(Plane(origin=(-5, -24, 30), x_dir=(1, 0, 0), z_dir=(0, 0, 1))):
        with Locations((5, 24)):
            Rectangle(BOX012_W, BOX012_H)
    extrude(amount=BOX012_DEPTH)


with BuildPart() as cube014:
    # Box014 → Box014 (new body)
    with BuildSketch(Plane(origin=(-2, -27, 37), x_dir=(1, 0, 0), z_dir=(0, 0, 1))):
        with Locations((2, 1.5)):
            Rectangle(BOX014_W, BOX014_H)
    extrude(amount=BOX014_DEPTH)


with BuildPart() as led:
    # Box016 → Box016 (new body)
    with BuildSketch(Plane(origin=(-5, -15, 33), x_dir=(1, 0, 0), z_dir=(0, 0, 1))):
        with Locations((5, 15)):
            Rectangle(BOX016_W, BOX016_H)
    extrude(amount=BOX016_DEPTH)

    # Fusion001: union Cube013, Cube012, Cube014
    add(cube013.part)
    add(cube012.part)
    add(cube014.part)

    # Fusion002: union Fusion
    add(fusion.part)


with BuildPart() as led_1:
    # Fusion002 placement: moved
    add(led.part.moved(Location((0, 0, 14))))

    # Cut012: cut Cylinder003
    add(cylinder003.part, mode=Mode.SUBTRACT)


with BuildPart() as cylinder004:
    # Cylinder007 → Cylinder007 (revolve)
    with BuildSketch(Plane.XZ):
        with Locations((18, 7)):
            Rectangle(CYLINDER007_W, CYLINDER007_H)
    revolve(axis=Axis((0, 0, 0), (0, 0, 1)), revolution_arc=CYLINDER007_ANGLE)


with BuildPart() as cylinder004_1:
    # Cylinder007 placement: moved
    add(cylinder004.part.moved(Location((0, 0, 3))).rotate(Axis((0, 0, 3), (0, 0, -1)), CYLINDER007_PLACEMENT_ANGLE))


with BuildPart() as cube008:
    # Box008 → Box008 (new body)
    with BuildSketch(Plane.XY):
        with Locations((6, 6)):
            Rectangle(BOX008_W, BOX008_H)
    extrude(amount=BOX008_DEPTH)


with BuildPart() as cube008_1:
    # Box008 placement: moved
    add(cube008.part.moved(Location((-33.234019, 24.748737, 6))).rotate(Axis((-33.234019, 24.748737, 6), (0, 0, 1)), BOX008_PLACEMENT_ANGLE))


with BuildPart() as cut013:
    # Cut009 base: copy of Cut001
    add(cut001.part)

    # Cut009: cut switch1
    add(switch1_2.part, mode=Mode.SUBTRACT)

    # Cut010: cut switch2
    add(switch2_2.part, mode=Mode.SUBTRACT)

    # Cut011: cut Cube008
    add(cube008_1.part, mode=Mode.SUBTRACT)

    # Cut013: cut Cylinder004
    add(cylinder004_1.part, mode=Mode.SUBTRACT)


solid = Compound([base_round.part, snap1.part, snap2_1.part, snap3_1.part, snap4_1.part, led_1.part, cut013.part])
